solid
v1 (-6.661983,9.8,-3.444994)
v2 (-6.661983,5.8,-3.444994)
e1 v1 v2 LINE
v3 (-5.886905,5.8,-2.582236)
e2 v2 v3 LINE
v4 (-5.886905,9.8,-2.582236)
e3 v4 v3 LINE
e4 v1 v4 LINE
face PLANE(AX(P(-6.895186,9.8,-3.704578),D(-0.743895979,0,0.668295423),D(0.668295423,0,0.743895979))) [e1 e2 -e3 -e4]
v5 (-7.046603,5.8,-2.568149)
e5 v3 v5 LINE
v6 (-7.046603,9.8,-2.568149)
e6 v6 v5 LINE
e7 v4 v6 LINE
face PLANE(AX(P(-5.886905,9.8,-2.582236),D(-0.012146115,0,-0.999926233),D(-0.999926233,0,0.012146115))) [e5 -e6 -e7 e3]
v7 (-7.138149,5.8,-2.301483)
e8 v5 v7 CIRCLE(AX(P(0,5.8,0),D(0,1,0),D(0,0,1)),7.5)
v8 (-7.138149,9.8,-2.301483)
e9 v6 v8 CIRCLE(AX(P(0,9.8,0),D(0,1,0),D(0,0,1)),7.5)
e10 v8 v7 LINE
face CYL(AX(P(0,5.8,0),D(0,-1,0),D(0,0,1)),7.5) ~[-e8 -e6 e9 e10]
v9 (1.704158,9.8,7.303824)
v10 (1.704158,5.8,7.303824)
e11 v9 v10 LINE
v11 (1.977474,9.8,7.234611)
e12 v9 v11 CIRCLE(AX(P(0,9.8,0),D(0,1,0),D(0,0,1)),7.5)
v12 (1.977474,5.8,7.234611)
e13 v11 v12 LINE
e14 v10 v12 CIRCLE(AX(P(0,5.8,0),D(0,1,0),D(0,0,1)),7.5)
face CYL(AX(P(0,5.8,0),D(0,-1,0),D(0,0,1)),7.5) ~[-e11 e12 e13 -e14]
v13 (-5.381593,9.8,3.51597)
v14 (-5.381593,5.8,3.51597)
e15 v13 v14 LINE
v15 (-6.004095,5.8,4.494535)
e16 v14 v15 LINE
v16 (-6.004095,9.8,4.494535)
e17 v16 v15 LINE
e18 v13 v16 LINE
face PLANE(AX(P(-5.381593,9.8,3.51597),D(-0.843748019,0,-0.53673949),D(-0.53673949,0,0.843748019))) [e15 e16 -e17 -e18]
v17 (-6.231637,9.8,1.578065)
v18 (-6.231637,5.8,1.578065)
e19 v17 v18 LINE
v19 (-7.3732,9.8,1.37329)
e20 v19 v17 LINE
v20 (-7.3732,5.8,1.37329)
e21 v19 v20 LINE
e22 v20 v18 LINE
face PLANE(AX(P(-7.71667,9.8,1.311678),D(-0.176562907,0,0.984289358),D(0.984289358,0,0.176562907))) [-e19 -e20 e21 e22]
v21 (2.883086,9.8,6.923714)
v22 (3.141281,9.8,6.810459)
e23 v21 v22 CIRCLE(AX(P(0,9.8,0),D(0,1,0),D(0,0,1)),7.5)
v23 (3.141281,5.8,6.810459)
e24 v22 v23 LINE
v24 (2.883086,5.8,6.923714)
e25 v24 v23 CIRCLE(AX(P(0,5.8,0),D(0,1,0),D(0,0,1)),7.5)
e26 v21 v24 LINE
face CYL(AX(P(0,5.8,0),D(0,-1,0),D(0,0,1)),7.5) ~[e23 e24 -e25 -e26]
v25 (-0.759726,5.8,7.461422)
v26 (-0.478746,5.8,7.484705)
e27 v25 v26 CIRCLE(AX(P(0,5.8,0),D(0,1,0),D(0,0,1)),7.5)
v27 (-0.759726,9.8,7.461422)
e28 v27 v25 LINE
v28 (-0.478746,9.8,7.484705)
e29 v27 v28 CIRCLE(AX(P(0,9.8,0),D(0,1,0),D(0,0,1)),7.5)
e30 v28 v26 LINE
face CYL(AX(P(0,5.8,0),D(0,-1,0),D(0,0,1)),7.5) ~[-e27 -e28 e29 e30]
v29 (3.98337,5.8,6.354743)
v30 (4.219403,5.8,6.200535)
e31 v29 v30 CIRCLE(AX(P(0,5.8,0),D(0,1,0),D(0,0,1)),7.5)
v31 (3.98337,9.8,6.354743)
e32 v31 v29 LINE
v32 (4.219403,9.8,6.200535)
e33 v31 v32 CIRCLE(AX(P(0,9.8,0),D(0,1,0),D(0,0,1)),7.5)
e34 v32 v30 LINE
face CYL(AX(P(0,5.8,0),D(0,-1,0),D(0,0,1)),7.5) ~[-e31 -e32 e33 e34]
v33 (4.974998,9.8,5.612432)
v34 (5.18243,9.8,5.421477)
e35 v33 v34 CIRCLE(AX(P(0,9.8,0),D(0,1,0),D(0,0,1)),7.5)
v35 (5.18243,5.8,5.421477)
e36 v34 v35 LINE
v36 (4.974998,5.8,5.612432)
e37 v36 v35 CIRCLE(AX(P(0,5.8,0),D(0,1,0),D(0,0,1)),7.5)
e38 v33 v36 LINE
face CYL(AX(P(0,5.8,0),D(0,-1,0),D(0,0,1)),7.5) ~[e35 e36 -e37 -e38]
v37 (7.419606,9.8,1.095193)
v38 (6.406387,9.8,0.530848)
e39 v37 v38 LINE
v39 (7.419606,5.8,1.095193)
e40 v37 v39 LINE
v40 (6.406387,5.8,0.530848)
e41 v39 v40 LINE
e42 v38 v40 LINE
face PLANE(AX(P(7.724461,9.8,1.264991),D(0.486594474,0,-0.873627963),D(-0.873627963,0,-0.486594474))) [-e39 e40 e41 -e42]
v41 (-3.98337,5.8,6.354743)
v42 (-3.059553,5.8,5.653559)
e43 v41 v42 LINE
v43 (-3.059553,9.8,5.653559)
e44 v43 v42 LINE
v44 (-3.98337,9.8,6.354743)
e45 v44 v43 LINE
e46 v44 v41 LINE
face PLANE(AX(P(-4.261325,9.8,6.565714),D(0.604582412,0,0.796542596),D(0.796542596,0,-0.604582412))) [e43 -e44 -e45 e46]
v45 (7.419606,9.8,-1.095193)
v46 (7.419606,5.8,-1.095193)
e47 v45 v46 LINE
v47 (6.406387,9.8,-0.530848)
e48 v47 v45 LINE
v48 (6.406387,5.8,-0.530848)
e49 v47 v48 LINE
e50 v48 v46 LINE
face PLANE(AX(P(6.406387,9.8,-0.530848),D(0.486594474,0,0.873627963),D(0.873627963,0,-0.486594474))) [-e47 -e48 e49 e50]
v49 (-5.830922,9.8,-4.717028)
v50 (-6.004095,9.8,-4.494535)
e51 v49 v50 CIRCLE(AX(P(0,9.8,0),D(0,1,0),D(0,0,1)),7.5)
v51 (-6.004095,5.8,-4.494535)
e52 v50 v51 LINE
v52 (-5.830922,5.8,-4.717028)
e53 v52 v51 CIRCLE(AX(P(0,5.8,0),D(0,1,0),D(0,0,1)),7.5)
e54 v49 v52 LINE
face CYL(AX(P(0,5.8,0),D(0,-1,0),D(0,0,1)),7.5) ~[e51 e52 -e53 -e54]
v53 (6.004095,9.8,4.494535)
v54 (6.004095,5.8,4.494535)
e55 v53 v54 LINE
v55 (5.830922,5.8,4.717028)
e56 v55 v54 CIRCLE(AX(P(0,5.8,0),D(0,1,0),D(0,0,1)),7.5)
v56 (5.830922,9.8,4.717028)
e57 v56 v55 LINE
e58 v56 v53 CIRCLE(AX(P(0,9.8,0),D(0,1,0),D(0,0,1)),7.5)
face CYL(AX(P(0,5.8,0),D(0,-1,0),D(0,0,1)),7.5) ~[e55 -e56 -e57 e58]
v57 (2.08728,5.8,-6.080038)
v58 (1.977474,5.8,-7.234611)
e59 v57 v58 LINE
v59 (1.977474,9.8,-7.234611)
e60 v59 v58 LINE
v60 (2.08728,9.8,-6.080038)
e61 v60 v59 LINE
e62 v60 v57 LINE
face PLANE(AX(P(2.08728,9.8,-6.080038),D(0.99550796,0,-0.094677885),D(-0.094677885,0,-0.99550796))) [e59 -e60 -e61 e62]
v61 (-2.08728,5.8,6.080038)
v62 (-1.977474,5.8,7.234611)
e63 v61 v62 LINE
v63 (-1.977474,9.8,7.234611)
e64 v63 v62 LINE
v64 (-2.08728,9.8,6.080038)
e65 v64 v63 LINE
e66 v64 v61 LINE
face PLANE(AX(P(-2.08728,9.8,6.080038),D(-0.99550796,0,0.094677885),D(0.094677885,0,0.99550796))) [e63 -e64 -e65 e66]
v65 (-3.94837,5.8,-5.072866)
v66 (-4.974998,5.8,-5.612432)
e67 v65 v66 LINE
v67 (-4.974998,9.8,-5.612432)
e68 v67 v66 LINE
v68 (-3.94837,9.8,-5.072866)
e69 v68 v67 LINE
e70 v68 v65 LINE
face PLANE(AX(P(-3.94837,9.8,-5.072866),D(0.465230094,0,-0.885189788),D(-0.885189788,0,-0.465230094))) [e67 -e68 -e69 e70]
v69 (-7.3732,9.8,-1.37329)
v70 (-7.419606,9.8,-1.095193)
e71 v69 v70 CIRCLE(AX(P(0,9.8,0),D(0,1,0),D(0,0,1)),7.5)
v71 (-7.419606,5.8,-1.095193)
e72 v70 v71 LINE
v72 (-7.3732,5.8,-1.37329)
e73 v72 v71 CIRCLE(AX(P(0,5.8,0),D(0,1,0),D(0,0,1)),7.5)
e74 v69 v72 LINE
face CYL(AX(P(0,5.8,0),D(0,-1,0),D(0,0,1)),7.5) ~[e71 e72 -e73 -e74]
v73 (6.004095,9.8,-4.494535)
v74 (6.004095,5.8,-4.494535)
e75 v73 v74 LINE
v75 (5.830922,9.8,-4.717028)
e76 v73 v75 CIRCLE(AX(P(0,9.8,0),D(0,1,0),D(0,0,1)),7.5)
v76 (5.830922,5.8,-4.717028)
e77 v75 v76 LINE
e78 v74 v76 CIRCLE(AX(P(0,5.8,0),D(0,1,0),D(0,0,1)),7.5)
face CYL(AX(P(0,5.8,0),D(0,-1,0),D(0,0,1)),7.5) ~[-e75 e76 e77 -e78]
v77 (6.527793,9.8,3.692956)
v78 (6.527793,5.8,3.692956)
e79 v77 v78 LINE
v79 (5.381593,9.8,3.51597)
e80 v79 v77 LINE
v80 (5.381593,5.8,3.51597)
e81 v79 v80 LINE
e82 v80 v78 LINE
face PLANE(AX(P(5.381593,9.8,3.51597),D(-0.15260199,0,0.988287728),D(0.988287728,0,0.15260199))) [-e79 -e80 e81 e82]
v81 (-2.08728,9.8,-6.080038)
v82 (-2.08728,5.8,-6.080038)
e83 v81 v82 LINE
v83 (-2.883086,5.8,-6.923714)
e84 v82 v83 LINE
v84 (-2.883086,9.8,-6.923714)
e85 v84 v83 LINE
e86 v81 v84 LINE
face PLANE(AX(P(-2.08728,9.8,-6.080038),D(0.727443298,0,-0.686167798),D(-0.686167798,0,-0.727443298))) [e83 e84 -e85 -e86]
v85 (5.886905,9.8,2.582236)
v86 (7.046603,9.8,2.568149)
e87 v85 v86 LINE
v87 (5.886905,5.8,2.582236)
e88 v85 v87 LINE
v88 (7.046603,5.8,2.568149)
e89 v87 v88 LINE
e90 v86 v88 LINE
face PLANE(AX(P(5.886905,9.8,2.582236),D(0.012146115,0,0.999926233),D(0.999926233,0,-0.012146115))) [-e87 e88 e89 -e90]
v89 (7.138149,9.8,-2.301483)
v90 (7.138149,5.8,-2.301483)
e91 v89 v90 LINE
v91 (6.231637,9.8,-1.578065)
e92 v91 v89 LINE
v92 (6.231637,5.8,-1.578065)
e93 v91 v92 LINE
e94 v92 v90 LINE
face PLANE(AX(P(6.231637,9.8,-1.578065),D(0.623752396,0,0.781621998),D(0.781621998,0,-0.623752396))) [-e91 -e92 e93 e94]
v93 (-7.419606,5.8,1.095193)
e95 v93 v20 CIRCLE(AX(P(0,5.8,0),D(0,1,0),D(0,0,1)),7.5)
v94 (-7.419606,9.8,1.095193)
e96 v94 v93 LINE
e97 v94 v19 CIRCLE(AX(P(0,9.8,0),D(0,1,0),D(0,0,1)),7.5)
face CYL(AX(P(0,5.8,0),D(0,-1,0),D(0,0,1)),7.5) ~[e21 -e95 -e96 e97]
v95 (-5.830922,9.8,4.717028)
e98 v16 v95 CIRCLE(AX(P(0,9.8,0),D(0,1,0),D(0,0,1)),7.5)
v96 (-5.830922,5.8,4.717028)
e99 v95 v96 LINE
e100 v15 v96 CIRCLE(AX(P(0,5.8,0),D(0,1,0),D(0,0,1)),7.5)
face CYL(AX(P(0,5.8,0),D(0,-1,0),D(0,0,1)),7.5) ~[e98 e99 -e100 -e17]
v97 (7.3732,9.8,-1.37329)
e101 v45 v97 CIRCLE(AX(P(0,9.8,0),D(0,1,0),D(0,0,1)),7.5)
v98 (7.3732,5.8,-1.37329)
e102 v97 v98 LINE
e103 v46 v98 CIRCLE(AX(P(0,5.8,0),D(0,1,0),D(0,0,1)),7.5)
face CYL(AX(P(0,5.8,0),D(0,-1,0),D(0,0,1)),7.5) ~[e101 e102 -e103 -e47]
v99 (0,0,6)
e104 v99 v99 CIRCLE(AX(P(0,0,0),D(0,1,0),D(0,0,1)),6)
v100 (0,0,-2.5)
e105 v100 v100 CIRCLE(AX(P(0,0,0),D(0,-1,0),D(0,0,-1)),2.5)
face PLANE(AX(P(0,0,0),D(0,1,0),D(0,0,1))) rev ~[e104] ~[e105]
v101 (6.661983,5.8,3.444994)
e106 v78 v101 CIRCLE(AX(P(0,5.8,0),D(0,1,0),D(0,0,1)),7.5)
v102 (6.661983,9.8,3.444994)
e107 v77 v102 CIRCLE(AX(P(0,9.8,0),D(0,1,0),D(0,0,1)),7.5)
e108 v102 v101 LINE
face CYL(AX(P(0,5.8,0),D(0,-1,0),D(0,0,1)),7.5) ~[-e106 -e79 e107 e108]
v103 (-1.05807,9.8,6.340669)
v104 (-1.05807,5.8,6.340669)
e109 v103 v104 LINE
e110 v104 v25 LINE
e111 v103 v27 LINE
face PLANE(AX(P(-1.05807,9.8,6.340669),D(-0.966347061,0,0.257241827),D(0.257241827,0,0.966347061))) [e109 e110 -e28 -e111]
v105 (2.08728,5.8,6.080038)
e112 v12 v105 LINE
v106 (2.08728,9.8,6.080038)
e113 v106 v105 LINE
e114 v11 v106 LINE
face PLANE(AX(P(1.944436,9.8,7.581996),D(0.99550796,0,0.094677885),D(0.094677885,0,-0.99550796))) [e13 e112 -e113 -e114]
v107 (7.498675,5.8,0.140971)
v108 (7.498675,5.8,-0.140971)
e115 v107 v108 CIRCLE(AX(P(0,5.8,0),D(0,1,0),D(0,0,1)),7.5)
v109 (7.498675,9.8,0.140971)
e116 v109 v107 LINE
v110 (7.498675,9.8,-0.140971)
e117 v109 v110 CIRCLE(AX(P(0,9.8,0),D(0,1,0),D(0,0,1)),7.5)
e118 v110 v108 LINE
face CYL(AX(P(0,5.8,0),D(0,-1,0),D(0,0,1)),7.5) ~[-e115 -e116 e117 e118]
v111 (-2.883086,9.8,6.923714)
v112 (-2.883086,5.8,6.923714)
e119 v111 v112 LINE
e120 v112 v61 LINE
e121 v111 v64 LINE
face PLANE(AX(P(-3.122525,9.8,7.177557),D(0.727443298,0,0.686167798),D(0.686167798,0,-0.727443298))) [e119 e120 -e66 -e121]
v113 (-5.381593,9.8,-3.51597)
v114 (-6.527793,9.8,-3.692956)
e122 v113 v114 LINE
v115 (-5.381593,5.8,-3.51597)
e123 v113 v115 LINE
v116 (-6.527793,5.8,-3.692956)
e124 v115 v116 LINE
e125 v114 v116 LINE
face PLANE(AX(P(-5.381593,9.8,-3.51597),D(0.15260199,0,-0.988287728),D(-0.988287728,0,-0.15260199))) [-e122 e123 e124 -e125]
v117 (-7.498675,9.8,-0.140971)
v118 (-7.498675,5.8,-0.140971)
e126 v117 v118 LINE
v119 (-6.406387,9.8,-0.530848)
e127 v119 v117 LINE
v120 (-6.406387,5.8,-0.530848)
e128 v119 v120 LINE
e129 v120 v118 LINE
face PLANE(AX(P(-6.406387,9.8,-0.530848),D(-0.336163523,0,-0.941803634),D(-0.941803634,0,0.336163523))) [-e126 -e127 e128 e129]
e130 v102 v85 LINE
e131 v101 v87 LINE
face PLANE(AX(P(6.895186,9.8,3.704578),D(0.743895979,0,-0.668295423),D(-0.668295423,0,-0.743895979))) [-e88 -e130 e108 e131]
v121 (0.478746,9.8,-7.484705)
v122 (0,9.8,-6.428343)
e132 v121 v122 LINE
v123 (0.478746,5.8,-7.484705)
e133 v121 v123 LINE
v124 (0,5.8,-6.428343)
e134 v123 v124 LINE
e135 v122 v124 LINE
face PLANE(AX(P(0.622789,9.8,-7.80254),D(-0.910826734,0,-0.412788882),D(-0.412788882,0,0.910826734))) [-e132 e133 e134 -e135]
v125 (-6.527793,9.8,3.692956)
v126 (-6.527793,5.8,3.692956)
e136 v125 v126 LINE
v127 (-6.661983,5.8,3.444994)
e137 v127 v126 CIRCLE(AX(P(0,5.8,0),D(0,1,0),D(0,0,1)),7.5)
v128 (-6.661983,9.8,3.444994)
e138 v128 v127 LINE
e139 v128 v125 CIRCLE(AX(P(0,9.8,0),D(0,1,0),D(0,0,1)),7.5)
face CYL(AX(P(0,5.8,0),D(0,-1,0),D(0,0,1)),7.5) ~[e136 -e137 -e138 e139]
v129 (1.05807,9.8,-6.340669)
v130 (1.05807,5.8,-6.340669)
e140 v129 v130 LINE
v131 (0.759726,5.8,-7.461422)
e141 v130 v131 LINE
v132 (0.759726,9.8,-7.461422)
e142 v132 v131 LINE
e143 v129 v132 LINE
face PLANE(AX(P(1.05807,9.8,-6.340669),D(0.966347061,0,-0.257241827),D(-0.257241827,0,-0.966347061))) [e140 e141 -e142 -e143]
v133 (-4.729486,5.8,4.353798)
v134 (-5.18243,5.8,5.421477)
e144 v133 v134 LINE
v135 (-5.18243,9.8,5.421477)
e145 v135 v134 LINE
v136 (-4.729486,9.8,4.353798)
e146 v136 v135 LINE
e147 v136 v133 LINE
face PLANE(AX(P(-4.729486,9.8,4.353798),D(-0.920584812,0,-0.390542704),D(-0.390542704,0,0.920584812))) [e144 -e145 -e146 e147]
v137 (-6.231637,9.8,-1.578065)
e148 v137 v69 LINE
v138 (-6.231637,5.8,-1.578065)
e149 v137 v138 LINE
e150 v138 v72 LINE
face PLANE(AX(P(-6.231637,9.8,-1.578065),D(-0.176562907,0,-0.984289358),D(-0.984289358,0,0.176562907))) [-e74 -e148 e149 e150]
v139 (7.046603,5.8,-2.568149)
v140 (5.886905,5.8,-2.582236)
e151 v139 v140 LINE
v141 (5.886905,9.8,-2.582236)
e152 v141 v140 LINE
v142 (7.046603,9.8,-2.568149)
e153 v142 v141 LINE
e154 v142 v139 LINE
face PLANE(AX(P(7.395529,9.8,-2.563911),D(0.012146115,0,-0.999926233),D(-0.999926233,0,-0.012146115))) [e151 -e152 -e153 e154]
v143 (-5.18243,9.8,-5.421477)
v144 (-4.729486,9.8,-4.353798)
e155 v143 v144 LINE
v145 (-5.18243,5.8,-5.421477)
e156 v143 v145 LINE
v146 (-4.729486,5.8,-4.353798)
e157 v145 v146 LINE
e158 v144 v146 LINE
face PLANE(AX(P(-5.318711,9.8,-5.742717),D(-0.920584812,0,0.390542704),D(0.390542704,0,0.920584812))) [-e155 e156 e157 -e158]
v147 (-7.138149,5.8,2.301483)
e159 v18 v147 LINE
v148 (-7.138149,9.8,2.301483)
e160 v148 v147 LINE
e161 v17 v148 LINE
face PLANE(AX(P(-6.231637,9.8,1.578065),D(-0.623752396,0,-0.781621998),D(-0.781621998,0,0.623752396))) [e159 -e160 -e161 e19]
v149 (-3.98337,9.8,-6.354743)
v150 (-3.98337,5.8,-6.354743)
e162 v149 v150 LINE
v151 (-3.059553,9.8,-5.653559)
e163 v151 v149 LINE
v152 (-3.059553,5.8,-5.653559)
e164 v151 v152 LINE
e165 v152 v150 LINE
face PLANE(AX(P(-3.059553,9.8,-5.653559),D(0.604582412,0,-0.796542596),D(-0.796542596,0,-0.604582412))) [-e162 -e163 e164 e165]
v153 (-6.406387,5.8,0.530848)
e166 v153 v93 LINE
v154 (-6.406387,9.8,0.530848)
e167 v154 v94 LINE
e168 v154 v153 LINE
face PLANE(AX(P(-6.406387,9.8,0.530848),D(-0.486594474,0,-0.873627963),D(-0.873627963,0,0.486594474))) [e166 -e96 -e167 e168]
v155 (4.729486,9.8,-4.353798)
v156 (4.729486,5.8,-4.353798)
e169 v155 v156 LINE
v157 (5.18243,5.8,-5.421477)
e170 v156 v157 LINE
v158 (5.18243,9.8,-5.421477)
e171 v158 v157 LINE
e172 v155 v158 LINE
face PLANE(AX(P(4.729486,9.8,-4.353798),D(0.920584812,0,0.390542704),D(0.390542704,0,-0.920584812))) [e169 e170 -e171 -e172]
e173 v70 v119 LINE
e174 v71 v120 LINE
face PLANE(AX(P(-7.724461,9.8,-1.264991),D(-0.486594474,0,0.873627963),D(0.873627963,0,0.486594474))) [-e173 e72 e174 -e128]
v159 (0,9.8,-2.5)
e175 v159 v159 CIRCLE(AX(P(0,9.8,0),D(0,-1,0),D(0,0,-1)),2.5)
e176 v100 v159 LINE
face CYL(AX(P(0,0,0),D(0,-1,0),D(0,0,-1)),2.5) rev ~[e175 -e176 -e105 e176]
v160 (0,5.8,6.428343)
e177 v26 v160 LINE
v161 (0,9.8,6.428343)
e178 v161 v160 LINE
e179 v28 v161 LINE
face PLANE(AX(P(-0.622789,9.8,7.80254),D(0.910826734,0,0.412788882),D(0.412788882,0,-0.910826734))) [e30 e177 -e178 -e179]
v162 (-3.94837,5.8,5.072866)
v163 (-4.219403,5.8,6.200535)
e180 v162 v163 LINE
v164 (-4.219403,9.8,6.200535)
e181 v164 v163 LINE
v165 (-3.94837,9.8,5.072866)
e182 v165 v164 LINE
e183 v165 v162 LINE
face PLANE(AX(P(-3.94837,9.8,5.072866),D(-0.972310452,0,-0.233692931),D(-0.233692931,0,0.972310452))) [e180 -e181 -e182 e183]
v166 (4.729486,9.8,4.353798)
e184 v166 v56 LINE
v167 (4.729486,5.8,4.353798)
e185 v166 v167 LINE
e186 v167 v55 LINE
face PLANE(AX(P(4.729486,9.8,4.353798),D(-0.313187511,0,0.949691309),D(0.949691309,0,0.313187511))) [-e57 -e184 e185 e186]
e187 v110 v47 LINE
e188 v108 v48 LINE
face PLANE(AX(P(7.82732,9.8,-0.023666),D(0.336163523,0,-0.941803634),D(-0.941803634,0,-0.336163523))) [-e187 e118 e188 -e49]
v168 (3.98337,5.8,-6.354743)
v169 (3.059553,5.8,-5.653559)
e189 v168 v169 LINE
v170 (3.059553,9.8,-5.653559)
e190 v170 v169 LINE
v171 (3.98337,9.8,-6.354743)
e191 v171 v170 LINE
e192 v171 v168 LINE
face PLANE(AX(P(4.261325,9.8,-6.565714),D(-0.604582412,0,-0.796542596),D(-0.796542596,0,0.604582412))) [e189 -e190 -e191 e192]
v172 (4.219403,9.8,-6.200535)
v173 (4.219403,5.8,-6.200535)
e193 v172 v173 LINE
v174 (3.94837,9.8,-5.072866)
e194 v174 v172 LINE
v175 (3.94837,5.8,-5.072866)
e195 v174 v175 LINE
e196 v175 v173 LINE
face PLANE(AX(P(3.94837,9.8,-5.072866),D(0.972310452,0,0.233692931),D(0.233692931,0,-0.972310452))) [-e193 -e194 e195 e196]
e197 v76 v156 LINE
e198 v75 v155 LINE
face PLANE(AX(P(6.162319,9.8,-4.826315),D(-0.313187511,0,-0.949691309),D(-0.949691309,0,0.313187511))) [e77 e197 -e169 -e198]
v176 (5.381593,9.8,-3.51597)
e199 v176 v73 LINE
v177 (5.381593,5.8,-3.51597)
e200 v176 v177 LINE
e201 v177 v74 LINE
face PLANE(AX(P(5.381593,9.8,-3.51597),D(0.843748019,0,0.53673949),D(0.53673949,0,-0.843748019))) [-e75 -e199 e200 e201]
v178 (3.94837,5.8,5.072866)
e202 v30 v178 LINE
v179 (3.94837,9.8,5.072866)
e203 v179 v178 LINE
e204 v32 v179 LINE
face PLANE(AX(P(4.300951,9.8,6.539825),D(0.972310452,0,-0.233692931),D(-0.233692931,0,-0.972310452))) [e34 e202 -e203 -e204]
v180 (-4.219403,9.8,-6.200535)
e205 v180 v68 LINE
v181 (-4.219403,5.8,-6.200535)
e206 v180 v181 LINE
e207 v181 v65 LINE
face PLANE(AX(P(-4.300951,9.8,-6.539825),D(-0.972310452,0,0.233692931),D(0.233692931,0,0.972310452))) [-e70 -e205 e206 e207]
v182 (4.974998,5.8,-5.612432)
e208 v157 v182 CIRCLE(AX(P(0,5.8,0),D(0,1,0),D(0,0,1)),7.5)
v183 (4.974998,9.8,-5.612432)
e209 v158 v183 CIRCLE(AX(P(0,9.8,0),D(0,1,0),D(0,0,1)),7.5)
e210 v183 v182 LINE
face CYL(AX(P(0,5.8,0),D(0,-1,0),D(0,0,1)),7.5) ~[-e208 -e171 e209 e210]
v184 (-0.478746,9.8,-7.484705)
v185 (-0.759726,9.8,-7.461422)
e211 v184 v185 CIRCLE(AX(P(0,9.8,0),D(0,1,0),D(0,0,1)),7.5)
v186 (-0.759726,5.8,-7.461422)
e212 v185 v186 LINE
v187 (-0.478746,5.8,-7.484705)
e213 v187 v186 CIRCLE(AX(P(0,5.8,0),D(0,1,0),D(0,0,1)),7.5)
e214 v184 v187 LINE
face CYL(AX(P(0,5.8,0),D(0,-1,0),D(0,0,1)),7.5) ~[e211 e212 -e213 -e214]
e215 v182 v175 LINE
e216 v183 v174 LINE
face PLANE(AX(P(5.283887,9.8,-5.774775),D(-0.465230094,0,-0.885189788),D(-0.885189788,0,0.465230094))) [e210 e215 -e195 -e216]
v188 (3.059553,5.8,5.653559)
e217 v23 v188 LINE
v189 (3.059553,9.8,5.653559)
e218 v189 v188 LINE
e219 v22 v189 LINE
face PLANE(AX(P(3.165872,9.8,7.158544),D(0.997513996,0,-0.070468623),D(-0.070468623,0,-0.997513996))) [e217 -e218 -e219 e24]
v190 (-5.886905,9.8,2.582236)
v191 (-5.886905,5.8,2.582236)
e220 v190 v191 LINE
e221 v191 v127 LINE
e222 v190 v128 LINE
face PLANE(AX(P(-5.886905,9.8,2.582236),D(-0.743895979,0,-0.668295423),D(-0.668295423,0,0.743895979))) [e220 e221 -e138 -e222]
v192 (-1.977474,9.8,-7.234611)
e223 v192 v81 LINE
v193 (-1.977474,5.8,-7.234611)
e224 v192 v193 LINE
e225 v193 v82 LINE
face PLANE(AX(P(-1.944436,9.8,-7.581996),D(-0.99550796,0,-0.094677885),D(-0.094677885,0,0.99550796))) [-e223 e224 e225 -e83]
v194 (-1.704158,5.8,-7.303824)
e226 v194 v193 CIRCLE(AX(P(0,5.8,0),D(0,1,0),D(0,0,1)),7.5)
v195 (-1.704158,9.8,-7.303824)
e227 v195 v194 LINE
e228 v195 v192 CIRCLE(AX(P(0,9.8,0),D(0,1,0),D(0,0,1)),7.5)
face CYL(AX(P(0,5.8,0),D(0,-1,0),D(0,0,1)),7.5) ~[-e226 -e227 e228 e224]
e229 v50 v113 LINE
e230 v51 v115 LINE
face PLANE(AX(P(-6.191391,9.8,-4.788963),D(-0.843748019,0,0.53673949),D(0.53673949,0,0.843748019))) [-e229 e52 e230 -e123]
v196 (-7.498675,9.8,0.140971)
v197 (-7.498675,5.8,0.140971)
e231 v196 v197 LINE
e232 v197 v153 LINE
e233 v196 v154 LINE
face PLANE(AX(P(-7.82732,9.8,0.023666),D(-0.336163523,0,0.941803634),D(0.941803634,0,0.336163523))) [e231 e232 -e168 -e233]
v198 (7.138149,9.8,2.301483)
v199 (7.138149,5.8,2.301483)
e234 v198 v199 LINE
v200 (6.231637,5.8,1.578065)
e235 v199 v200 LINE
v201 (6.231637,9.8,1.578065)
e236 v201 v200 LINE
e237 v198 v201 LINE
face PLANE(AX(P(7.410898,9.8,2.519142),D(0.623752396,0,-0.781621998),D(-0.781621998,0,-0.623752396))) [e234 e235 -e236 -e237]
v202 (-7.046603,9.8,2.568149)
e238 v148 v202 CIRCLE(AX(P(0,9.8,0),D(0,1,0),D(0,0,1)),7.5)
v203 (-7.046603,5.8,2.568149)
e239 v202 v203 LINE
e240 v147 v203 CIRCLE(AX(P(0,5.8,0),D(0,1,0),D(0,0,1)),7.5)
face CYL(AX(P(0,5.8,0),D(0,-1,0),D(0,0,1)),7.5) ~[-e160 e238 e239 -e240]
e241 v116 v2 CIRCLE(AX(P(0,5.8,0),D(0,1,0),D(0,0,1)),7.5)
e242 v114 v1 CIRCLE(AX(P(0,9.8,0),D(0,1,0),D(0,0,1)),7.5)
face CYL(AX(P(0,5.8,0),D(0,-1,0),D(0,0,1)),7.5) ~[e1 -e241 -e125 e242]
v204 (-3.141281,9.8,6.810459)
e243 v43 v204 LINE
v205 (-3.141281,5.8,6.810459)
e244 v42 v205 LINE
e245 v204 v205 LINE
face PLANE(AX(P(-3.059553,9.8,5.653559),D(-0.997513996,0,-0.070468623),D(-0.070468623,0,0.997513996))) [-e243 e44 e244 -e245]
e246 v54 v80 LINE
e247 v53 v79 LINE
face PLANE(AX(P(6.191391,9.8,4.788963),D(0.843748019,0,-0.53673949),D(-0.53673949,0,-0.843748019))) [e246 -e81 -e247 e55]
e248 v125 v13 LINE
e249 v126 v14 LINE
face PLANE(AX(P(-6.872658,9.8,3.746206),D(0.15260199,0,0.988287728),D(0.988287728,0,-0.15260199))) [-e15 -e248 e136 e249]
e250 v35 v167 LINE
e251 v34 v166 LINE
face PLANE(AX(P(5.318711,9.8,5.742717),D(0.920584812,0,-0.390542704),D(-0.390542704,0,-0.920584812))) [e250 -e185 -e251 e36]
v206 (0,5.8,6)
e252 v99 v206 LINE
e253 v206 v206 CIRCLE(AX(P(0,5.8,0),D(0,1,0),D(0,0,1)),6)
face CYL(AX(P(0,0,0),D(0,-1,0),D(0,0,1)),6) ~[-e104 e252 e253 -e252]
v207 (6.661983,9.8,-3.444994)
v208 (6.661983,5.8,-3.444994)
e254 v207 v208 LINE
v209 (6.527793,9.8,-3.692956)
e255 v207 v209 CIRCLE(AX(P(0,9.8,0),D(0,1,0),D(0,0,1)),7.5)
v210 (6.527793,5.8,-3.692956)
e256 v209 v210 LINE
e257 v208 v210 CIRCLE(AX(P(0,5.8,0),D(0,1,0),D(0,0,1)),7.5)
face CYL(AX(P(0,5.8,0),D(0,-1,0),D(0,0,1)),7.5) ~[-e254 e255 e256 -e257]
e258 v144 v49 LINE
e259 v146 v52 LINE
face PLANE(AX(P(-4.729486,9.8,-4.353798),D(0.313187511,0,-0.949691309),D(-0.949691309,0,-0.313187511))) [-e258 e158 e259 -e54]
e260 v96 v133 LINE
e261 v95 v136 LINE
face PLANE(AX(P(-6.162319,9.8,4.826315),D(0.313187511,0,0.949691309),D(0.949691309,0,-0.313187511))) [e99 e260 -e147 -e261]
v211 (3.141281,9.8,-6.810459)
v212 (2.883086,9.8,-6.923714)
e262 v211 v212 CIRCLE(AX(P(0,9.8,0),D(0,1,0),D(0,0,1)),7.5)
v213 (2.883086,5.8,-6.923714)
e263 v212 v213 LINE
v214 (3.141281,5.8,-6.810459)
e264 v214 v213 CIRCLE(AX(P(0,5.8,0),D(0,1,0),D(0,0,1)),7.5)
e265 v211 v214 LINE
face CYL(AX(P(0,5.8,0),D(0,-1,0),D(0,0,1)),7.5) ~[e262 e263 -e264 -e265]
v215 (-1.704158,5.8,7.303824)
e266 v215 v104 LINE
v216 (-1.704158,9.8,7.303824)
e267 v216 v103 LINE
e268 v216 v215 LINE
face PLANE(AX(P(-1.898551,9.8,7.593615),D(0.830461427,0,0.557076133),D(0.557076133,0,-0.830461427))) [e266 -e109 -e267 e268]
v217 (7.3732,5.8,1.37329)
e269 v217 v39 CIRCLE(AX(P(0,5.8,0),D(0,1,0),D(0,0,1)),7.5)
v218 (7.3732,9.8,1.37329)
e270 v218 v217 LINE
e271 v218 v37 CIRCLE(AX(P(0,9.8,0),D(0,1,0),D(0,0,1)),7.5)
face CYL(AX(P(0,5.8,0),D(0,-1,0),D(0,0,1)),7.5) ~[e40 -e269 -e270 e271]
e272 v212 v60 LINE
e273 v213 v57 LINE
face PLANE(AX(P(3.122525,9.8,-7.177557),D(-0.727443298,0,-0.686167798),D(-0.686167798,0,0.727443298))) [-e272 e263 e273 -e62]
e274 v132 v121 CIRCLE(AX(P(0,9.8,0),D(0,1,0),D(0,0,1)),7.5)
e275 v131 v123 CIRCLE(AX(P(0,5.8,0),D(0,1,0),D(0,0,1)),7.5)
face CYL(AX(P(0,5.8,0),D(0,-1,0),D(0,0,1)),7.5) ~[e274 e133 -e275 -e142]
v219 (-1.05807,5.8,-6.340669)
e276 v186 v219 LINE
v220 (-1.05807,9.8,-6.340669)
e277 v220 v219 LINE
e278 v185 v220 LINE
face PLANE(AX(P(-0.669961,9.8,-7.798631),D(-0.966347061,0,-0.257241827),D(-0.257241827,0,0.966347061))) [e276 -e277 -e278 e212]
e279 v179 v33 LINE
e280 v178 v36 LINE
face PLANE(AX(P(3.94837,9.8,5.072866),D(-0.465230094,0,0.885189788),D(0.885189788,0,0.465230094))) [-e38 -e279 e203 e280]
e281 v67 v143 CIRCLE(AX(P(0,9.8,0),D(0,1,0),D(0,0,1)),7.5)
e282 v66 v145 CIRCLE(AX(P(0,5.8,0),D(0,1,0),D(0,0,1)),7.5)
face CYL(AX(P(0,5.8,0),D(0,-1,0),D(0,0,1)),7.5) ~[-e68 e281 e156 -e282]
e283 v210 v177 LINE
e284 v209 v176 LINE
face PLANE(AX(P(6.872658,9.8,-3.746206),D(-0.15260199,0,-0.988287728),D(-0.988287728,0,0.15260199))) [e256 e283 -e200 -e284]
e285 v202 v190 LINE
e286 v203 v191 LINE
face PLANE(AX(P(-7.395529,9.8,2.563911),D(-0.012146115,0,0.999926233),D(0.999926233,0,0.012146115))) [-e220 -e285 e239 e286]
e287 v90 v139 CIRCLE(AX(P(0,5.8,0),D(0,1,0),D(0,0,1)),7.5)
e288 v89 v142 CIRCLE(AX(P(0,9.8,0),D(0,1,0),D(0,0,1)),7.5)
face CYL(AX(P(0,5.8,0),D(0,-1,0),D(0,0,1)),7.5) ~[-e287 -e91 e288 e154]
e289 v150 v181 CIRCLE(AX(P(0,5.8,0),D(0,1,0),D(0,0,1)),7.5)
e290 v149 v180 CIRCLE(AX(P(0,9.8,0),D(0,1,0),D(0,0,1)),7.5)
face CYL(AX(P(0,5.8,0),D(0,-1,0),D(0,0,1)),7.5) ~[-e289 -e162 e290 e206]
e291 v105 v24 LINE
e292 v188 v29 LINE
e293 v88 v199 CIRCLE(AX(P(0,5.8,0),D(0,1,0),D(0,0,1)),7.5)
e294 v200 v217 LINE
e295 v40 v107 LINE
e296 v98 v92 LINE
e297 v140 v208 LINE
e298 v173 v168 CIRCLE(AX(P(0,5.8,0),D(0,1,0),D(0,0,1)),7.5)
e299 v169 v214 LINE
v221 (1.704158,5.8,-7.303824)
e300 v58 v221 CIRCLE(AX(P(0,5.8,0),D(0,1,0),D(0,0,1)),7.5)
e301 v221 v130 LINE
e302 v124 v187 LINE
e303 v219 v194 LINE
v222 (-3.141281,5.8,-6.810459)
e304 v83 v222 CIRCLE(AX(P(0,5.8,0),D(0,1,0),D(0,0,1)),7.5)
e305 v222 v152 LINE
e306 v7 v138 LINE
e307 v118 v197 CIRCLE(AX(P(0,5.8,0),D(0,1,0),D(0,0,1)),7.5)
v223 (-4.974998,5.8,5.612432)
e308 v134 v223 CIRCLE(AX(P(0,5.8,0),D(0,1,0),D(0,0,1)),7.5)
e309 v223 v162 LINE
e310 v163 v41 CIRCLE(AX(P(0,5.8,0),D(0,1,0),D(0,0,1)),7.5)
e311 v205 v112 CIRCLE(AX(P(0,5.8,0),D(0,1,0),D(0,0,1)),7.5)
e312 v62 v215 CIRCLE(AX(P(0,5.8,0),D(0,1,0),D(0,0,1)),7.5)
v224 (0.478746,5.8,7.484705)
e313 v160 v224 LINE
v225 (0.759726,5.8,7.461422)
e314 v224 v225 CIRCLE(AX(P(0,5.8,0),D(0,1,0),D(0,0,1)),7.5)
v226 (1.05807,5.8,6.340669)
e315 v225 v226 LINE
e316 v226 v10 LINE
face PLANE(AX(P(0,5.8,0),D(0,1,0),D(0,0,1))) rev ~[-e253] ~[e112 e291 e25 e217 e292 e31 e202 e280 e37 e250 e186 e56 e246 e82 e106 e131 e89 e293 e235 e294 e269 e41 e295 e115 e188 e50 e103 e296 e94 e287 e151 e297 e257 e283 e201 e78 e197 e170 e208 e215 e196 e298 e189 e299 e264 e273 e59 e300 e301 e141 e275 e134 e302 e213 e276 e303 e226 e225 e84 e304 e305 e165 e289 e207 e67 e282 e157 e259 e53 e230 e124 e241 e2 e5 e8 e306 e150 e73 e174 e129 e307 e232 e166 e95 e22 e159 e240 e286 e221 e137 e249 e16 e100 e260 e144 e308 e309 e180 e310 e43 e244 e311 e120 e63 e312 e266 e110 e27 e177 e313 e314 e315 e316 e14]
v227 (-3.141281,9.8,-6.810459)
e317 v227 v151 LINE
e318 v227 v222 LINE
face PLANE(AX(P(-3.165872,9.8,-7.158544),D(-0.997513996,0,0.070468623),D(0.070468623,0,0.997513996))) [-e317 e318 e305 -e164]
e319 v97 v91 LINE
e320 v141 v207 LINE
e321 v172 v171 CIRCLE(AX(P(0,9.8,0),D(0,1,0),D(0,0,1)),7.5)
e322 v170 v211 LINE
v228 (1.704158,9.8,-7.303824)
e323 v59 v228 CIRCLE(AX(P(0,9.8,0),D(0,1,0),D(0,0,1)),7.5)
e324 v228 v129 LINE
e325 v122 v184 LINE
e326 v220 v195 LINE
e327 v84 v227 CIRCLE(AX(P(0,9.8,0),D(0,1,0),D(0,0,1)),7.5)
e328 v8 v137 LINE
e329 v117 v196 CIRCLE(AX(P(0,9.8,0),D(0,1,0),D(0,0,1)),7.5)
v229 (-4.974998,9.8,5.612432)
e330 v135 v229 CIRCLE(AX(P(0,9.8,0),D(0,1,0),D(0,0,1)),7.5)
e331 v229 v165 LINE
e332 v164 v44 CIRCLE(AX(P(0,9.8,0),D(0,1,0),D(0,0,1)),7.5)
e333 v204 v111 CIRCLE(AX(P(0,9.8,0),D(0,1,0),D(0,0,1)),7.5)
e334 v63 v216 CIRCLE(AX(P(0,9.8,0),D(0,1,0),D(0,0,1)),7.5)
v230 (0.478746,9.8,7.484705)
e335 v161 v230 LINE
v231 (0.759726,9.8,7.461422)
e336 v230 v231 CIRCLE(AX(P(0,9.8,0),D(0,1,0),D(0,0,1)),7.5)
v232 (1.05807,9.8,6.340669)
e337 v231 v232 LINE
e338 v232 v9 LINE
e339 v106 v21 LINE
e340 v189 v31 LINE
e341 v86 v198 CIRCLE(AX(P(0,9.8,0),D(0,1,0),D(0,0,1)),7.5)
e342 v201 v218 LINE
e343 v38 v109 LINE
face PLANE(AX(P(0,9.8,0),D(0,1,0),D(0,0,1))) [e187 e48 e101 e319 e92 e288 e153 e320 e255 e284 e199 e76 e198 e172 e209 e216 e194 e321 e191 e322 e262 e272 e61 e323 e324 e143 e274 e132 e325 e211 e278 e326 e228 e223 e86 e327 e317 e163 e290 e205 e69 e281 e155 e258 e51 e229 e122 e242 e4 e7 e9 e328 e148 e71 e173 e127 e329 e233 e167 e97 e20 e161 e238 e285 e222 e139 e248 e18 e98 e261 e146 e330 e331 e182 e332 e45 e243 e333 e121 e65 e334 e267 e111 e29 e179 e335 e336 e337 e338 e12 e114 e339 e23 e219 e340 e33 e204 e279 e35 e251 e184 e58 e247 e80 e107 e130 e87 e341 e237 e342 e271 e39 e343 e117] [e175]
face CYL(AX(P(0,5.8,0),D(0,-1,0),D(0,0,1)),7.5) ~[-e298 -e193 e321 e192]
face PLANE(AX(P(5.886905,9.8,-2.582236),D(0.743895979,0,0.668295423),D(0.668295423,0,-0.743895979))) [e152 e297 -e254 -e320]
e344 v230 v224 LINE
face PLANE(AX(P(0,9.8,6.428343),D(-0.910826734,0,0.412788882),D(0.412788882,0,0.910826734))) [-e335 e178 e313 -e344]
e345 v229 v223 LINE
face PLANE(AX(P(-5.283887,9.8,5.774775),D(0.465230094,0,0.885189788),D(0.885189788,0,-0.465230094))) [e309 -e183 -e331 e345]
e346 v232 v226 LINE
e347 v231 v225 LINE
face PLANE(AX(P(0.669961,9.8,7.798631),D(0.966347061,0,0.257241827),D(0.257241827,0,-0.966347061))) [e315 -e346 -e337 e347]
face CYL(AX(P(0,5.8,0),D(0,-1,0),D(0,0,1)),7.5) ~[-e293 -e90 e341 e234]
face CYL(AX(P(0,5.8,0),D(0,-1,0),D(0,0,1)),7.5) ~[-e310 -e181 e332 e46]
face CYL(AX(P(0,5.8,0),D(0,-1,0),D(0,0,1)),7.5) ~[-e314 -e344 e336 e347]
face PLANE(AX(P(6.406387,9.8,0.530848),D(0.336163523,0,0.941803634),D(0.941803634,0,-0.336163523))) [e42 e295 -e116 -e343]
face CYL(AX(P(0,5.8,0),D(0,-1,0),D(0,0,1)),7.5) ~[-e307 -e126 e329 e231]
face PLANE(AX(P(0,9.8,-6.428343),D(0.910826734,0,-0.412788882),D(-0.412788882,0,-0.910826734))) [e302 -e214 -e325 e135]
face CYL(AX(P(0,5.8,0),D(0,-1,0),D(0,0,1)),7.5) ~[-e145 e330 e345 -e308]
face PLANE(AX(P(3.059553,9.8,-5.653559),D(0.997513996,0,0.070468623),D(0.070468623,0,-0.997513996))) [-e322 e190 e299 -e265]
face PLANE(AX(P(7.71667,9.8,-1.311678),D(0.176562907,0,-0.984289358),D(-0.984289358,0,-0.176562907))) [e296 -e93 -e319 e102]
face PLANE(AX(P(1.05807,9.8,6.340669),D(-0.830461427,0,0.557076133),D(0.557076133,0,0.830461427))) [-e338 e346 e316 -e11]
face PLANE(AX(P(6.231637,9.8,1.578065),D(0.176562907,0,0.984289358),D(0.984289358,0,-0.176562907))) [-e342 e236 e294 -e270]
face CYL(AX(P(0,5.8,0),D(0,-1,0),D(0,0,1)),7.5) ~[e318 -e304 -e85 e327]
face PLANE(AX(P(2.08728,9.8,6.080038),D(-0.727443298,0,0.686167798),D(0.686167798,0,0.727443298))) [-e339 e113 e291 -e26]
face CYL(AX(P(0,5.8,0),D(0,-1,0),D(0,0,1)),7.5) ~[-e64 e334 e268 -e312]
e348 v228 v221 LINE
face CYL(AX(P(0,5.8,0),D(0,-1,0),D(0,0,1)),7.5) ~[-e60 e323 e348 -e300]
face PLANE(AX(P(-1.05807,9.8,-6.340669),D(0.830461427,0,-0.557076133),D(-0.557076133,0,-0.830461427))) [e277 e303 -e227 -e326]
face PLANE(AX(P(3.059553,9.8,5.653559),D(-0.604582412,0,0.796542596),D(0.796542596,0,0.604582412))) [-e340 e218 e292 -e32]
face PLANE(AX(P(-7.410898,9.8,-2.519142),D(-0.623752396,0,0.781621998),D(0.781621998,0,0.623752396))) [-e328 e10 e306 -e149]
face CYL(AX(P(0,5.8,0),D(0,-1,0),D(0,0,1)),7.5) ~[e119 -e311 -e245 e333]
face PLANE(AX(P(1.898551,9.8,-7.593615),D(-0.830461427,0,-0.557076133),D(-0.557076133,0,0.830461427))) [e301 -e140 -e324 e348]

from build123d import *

# Parameters (mm, degrees)
SKETCH_1_R          = 6
EXTRUDE_1_DEPTH     = 5.8
SKETCH_2_R          = 7.5
EXTRUDE_2_DEPTH     = 4
CUT_EXTRUDE_3_DEPTH = 15.440914098
SKETCH_4_R          = 2.5
CUT_EXTRUDE_4_DEPTH = 15.43297622


with BuildPart() as part:
    # Эскиз1 → Вытянуть1 (new body)
    with BuildSketch(Plane(origin=(0, 0, 0), x_dir=(1, 0, 0), z_dir=(0, 1, 0))):
        with Locations(Location((0, 0, 0), (0, 0, 270))):
            Circle(SKETCH_1_R)
    extrude(amount=EXTRUDE_1_DEPTH)

    # Эскиз2 → Вытянуть2 (add)
    with BuildSketch(Plane(origin=(0, 5.8, 0), x_dir=(1, 0, 0), z_dir=(0, 1, 0))):
        with Locations(Location((0, 0, 0), (0, 0, 270))):
            Circle(SKETCH_2_R)
    extrude(amount=EXTRUDE_2_DEPTH)

    # Эскиз3 → Вытянуть3 (cut, through all)
    with BuildSketch(Plane(origin=(0, 9.8, 0), x_dir=(1, 0, 0), z_dir=(0, 1, 0))):
        Polygon((-0.62278932, 7.802539676), (0.62278932, 7.802539676), (0, 6.428342871), align=None)
        Polygon((0.669960535, 7.798630957), (1.898551107, 7.593615451), (1.058070461, 6.340668653), align=None)
        Polygon((1.944435614, 7.581995916), (3.122525368, 7.177557193), (2.087279518, 6.080037523), align=None)
        Polygon((3.165871558, 7.158543791), (4.261325277, 6.565713884), (3.059553031, 5.653558819), align=None)
        Polygon((4.300950779, 6.539825252), (5.283887341, 5.774775016), (3.948369913, 5.072865768), align=None)
        Polygon((5.318711274, 5.742717328), (6.162318733, 4.82631534), (4.729485556, 4.353798163), align=None)
        Polygon((6.19139119, 4.788963046), (6.872658133, 3.746206362), (5.381593163, 3.515970293), align=None)
        Polygon((6.895186095, 3.704578336), (7.395529336, 2.563910641), (5.886904936, 2.582235919), align=None)
        Polygon((7.410898297, 2.519142386), (7.716669776, 1.311678121), (6.231637289, 1.578064881), align=None)
        Polygon((7.724460512, 1.264990798), (7.827319581, 0.023666441), (6.406386821, 0.530848347), align=None)
        Polygon((7.827319581, -0.023666441), (7.724460512, -1.264990798), (6.406386821, -0.530848347), align=None)
        Polygon((7.716669776, -1.311678121), (7.410898297, -2.519142386), (6.231637289, -1.578064881), align=None)
        Polygon((7.395529336, -2.563910641), (6.895186095, -3.704578336), (5.886904936, -2.582235919), align=None)
        Polygon((6.872658133, -3.746206362), (6.19139119, -4.788963046), (5.381593163, -3.515970293), align=None)
        Polygon((6.162318733, -4.82631534), (5.318711274, -5.742717328), (4.729485556, -4.353798163), align=None)
        Polygon((5.283887341, -5.774775016), (4.300950779, -6.539825252), (3.948369913, -5.072865768), align=None)
        Polygon((4.261325277, -6.565713884), (3.165871558, -7.158543791), (3.059553031, -5.653558819), align=None)
        Polygon((3.122525368, -7.177557193), (1.944435614, -7.581995916), (2.087279518, -6.080037523), align=None)
        Polygon((1.898551107, -7.593615451), (0.669960535, -7.798630957), (1.058070461, -6.340668653), align=None)
        Polygon((0.62278932, -7.802539676), (-0.62278932, -7.802539676), (0, -6.428342871), align=None)
        Polygon((-0.669960535, -7.798630957), (-1.898551107, -7.593615451), (-1.058070461, -6.340668653), align=None)
        Polygon((-1.944435614, -7.581995916), (-3.122525368, -7.177557193), (-2.087279518, -6.080037523), align=None)
        Polygon((-3.165871558, -7.158543791), (-4.261325277, -6.565713884), (-3.059553031, -5.653558819), align=None)
        Polygon((-4.300950779, -6.539825252), (-5.283887341, -5.774775016), (-3.948369913, -5.072865768), align=None)
        Polygon((-5.318711274, -5.742717328), (-6.162318733, -4.82631534), (-4.729485556, -4.353798163), align=None)
        Polygon((-6.19139119, -4.788963046), (-6.872658133, -3.746206362), (-5.381593163, -3.515970293), align=None)
        Polygon((-6.895186095, -3.704578336), (-7.395529336, -2.563910641), (-5.886904936, -2.582235919), align=None)
        Polygon((-7.410898297, -2.519142386), (-7.716669776, -1.311678121), (-6.231637289, -1.578064881), align=None)
        Polygon((-7.724460512, -1.264990798), (-7.827319581, -0.023666441), (-6.406386821, -0.530848347), align=None)
        Polygon((-7.827319581, 0.023666441), (-7.724460512, 1.264990798), (-6.406386821, 0.530848347), align=None)
        Polygon((-7.716669776, 1.311678121), (-7.410898297, 2.519142386), (-6.231637289, 1.578064881), align=None)
        Polygon((-7.395529336, 2.563910641), (-6.895186095, 3.704578336), (-5.886904936, 2.582235919), align=None)
        Polygon((-6.872658133, 3.746206362), (-6.19139119, 4.788963046), (-5.381593163, 3.515970293), align=None)
        Polygon((-6.162318733, 4.82631534), (-5.318711274, 5.742717328), (-4.729485556, 4.353798163), align=None)
        Polygon((-5.283887341, 5.774775016), (-4.300950779, 6.539825252), (-3.948369913, 5.072865768), align=None)
        Polygon((-4.261325277, 6.565713884), (-3.165871558, 7.158543791), (-3.059553031, 5.653558819), align=None)
        Polygon((-3.122525368, 7.177557193), (-1.944435614, 7.581995916), (-2.087279518, 6.080037523), align=None)
        Polygon((-1.898551107, 7.593615451), (-0.669960535, 7.798630957), (-1.058070461, 6.340668653), align=None)
    extrude(amount=-CUT_EXTRUDE_3_DEPTH, mode=Mode.SUBTRACT)

    # Эскиз4 → Вытянуть4 (cut, through all)
    with BuildSketch(Plane.XZ):
        with Locations(Location((0, 0, 0), (0, 0, 270))):
            Circle(SKETCH_4_R)
    extrude(amount=-CUT_EXTRUDE_4_DEPTH, mode=Mode.SUBTRACT)


solid = part.part
